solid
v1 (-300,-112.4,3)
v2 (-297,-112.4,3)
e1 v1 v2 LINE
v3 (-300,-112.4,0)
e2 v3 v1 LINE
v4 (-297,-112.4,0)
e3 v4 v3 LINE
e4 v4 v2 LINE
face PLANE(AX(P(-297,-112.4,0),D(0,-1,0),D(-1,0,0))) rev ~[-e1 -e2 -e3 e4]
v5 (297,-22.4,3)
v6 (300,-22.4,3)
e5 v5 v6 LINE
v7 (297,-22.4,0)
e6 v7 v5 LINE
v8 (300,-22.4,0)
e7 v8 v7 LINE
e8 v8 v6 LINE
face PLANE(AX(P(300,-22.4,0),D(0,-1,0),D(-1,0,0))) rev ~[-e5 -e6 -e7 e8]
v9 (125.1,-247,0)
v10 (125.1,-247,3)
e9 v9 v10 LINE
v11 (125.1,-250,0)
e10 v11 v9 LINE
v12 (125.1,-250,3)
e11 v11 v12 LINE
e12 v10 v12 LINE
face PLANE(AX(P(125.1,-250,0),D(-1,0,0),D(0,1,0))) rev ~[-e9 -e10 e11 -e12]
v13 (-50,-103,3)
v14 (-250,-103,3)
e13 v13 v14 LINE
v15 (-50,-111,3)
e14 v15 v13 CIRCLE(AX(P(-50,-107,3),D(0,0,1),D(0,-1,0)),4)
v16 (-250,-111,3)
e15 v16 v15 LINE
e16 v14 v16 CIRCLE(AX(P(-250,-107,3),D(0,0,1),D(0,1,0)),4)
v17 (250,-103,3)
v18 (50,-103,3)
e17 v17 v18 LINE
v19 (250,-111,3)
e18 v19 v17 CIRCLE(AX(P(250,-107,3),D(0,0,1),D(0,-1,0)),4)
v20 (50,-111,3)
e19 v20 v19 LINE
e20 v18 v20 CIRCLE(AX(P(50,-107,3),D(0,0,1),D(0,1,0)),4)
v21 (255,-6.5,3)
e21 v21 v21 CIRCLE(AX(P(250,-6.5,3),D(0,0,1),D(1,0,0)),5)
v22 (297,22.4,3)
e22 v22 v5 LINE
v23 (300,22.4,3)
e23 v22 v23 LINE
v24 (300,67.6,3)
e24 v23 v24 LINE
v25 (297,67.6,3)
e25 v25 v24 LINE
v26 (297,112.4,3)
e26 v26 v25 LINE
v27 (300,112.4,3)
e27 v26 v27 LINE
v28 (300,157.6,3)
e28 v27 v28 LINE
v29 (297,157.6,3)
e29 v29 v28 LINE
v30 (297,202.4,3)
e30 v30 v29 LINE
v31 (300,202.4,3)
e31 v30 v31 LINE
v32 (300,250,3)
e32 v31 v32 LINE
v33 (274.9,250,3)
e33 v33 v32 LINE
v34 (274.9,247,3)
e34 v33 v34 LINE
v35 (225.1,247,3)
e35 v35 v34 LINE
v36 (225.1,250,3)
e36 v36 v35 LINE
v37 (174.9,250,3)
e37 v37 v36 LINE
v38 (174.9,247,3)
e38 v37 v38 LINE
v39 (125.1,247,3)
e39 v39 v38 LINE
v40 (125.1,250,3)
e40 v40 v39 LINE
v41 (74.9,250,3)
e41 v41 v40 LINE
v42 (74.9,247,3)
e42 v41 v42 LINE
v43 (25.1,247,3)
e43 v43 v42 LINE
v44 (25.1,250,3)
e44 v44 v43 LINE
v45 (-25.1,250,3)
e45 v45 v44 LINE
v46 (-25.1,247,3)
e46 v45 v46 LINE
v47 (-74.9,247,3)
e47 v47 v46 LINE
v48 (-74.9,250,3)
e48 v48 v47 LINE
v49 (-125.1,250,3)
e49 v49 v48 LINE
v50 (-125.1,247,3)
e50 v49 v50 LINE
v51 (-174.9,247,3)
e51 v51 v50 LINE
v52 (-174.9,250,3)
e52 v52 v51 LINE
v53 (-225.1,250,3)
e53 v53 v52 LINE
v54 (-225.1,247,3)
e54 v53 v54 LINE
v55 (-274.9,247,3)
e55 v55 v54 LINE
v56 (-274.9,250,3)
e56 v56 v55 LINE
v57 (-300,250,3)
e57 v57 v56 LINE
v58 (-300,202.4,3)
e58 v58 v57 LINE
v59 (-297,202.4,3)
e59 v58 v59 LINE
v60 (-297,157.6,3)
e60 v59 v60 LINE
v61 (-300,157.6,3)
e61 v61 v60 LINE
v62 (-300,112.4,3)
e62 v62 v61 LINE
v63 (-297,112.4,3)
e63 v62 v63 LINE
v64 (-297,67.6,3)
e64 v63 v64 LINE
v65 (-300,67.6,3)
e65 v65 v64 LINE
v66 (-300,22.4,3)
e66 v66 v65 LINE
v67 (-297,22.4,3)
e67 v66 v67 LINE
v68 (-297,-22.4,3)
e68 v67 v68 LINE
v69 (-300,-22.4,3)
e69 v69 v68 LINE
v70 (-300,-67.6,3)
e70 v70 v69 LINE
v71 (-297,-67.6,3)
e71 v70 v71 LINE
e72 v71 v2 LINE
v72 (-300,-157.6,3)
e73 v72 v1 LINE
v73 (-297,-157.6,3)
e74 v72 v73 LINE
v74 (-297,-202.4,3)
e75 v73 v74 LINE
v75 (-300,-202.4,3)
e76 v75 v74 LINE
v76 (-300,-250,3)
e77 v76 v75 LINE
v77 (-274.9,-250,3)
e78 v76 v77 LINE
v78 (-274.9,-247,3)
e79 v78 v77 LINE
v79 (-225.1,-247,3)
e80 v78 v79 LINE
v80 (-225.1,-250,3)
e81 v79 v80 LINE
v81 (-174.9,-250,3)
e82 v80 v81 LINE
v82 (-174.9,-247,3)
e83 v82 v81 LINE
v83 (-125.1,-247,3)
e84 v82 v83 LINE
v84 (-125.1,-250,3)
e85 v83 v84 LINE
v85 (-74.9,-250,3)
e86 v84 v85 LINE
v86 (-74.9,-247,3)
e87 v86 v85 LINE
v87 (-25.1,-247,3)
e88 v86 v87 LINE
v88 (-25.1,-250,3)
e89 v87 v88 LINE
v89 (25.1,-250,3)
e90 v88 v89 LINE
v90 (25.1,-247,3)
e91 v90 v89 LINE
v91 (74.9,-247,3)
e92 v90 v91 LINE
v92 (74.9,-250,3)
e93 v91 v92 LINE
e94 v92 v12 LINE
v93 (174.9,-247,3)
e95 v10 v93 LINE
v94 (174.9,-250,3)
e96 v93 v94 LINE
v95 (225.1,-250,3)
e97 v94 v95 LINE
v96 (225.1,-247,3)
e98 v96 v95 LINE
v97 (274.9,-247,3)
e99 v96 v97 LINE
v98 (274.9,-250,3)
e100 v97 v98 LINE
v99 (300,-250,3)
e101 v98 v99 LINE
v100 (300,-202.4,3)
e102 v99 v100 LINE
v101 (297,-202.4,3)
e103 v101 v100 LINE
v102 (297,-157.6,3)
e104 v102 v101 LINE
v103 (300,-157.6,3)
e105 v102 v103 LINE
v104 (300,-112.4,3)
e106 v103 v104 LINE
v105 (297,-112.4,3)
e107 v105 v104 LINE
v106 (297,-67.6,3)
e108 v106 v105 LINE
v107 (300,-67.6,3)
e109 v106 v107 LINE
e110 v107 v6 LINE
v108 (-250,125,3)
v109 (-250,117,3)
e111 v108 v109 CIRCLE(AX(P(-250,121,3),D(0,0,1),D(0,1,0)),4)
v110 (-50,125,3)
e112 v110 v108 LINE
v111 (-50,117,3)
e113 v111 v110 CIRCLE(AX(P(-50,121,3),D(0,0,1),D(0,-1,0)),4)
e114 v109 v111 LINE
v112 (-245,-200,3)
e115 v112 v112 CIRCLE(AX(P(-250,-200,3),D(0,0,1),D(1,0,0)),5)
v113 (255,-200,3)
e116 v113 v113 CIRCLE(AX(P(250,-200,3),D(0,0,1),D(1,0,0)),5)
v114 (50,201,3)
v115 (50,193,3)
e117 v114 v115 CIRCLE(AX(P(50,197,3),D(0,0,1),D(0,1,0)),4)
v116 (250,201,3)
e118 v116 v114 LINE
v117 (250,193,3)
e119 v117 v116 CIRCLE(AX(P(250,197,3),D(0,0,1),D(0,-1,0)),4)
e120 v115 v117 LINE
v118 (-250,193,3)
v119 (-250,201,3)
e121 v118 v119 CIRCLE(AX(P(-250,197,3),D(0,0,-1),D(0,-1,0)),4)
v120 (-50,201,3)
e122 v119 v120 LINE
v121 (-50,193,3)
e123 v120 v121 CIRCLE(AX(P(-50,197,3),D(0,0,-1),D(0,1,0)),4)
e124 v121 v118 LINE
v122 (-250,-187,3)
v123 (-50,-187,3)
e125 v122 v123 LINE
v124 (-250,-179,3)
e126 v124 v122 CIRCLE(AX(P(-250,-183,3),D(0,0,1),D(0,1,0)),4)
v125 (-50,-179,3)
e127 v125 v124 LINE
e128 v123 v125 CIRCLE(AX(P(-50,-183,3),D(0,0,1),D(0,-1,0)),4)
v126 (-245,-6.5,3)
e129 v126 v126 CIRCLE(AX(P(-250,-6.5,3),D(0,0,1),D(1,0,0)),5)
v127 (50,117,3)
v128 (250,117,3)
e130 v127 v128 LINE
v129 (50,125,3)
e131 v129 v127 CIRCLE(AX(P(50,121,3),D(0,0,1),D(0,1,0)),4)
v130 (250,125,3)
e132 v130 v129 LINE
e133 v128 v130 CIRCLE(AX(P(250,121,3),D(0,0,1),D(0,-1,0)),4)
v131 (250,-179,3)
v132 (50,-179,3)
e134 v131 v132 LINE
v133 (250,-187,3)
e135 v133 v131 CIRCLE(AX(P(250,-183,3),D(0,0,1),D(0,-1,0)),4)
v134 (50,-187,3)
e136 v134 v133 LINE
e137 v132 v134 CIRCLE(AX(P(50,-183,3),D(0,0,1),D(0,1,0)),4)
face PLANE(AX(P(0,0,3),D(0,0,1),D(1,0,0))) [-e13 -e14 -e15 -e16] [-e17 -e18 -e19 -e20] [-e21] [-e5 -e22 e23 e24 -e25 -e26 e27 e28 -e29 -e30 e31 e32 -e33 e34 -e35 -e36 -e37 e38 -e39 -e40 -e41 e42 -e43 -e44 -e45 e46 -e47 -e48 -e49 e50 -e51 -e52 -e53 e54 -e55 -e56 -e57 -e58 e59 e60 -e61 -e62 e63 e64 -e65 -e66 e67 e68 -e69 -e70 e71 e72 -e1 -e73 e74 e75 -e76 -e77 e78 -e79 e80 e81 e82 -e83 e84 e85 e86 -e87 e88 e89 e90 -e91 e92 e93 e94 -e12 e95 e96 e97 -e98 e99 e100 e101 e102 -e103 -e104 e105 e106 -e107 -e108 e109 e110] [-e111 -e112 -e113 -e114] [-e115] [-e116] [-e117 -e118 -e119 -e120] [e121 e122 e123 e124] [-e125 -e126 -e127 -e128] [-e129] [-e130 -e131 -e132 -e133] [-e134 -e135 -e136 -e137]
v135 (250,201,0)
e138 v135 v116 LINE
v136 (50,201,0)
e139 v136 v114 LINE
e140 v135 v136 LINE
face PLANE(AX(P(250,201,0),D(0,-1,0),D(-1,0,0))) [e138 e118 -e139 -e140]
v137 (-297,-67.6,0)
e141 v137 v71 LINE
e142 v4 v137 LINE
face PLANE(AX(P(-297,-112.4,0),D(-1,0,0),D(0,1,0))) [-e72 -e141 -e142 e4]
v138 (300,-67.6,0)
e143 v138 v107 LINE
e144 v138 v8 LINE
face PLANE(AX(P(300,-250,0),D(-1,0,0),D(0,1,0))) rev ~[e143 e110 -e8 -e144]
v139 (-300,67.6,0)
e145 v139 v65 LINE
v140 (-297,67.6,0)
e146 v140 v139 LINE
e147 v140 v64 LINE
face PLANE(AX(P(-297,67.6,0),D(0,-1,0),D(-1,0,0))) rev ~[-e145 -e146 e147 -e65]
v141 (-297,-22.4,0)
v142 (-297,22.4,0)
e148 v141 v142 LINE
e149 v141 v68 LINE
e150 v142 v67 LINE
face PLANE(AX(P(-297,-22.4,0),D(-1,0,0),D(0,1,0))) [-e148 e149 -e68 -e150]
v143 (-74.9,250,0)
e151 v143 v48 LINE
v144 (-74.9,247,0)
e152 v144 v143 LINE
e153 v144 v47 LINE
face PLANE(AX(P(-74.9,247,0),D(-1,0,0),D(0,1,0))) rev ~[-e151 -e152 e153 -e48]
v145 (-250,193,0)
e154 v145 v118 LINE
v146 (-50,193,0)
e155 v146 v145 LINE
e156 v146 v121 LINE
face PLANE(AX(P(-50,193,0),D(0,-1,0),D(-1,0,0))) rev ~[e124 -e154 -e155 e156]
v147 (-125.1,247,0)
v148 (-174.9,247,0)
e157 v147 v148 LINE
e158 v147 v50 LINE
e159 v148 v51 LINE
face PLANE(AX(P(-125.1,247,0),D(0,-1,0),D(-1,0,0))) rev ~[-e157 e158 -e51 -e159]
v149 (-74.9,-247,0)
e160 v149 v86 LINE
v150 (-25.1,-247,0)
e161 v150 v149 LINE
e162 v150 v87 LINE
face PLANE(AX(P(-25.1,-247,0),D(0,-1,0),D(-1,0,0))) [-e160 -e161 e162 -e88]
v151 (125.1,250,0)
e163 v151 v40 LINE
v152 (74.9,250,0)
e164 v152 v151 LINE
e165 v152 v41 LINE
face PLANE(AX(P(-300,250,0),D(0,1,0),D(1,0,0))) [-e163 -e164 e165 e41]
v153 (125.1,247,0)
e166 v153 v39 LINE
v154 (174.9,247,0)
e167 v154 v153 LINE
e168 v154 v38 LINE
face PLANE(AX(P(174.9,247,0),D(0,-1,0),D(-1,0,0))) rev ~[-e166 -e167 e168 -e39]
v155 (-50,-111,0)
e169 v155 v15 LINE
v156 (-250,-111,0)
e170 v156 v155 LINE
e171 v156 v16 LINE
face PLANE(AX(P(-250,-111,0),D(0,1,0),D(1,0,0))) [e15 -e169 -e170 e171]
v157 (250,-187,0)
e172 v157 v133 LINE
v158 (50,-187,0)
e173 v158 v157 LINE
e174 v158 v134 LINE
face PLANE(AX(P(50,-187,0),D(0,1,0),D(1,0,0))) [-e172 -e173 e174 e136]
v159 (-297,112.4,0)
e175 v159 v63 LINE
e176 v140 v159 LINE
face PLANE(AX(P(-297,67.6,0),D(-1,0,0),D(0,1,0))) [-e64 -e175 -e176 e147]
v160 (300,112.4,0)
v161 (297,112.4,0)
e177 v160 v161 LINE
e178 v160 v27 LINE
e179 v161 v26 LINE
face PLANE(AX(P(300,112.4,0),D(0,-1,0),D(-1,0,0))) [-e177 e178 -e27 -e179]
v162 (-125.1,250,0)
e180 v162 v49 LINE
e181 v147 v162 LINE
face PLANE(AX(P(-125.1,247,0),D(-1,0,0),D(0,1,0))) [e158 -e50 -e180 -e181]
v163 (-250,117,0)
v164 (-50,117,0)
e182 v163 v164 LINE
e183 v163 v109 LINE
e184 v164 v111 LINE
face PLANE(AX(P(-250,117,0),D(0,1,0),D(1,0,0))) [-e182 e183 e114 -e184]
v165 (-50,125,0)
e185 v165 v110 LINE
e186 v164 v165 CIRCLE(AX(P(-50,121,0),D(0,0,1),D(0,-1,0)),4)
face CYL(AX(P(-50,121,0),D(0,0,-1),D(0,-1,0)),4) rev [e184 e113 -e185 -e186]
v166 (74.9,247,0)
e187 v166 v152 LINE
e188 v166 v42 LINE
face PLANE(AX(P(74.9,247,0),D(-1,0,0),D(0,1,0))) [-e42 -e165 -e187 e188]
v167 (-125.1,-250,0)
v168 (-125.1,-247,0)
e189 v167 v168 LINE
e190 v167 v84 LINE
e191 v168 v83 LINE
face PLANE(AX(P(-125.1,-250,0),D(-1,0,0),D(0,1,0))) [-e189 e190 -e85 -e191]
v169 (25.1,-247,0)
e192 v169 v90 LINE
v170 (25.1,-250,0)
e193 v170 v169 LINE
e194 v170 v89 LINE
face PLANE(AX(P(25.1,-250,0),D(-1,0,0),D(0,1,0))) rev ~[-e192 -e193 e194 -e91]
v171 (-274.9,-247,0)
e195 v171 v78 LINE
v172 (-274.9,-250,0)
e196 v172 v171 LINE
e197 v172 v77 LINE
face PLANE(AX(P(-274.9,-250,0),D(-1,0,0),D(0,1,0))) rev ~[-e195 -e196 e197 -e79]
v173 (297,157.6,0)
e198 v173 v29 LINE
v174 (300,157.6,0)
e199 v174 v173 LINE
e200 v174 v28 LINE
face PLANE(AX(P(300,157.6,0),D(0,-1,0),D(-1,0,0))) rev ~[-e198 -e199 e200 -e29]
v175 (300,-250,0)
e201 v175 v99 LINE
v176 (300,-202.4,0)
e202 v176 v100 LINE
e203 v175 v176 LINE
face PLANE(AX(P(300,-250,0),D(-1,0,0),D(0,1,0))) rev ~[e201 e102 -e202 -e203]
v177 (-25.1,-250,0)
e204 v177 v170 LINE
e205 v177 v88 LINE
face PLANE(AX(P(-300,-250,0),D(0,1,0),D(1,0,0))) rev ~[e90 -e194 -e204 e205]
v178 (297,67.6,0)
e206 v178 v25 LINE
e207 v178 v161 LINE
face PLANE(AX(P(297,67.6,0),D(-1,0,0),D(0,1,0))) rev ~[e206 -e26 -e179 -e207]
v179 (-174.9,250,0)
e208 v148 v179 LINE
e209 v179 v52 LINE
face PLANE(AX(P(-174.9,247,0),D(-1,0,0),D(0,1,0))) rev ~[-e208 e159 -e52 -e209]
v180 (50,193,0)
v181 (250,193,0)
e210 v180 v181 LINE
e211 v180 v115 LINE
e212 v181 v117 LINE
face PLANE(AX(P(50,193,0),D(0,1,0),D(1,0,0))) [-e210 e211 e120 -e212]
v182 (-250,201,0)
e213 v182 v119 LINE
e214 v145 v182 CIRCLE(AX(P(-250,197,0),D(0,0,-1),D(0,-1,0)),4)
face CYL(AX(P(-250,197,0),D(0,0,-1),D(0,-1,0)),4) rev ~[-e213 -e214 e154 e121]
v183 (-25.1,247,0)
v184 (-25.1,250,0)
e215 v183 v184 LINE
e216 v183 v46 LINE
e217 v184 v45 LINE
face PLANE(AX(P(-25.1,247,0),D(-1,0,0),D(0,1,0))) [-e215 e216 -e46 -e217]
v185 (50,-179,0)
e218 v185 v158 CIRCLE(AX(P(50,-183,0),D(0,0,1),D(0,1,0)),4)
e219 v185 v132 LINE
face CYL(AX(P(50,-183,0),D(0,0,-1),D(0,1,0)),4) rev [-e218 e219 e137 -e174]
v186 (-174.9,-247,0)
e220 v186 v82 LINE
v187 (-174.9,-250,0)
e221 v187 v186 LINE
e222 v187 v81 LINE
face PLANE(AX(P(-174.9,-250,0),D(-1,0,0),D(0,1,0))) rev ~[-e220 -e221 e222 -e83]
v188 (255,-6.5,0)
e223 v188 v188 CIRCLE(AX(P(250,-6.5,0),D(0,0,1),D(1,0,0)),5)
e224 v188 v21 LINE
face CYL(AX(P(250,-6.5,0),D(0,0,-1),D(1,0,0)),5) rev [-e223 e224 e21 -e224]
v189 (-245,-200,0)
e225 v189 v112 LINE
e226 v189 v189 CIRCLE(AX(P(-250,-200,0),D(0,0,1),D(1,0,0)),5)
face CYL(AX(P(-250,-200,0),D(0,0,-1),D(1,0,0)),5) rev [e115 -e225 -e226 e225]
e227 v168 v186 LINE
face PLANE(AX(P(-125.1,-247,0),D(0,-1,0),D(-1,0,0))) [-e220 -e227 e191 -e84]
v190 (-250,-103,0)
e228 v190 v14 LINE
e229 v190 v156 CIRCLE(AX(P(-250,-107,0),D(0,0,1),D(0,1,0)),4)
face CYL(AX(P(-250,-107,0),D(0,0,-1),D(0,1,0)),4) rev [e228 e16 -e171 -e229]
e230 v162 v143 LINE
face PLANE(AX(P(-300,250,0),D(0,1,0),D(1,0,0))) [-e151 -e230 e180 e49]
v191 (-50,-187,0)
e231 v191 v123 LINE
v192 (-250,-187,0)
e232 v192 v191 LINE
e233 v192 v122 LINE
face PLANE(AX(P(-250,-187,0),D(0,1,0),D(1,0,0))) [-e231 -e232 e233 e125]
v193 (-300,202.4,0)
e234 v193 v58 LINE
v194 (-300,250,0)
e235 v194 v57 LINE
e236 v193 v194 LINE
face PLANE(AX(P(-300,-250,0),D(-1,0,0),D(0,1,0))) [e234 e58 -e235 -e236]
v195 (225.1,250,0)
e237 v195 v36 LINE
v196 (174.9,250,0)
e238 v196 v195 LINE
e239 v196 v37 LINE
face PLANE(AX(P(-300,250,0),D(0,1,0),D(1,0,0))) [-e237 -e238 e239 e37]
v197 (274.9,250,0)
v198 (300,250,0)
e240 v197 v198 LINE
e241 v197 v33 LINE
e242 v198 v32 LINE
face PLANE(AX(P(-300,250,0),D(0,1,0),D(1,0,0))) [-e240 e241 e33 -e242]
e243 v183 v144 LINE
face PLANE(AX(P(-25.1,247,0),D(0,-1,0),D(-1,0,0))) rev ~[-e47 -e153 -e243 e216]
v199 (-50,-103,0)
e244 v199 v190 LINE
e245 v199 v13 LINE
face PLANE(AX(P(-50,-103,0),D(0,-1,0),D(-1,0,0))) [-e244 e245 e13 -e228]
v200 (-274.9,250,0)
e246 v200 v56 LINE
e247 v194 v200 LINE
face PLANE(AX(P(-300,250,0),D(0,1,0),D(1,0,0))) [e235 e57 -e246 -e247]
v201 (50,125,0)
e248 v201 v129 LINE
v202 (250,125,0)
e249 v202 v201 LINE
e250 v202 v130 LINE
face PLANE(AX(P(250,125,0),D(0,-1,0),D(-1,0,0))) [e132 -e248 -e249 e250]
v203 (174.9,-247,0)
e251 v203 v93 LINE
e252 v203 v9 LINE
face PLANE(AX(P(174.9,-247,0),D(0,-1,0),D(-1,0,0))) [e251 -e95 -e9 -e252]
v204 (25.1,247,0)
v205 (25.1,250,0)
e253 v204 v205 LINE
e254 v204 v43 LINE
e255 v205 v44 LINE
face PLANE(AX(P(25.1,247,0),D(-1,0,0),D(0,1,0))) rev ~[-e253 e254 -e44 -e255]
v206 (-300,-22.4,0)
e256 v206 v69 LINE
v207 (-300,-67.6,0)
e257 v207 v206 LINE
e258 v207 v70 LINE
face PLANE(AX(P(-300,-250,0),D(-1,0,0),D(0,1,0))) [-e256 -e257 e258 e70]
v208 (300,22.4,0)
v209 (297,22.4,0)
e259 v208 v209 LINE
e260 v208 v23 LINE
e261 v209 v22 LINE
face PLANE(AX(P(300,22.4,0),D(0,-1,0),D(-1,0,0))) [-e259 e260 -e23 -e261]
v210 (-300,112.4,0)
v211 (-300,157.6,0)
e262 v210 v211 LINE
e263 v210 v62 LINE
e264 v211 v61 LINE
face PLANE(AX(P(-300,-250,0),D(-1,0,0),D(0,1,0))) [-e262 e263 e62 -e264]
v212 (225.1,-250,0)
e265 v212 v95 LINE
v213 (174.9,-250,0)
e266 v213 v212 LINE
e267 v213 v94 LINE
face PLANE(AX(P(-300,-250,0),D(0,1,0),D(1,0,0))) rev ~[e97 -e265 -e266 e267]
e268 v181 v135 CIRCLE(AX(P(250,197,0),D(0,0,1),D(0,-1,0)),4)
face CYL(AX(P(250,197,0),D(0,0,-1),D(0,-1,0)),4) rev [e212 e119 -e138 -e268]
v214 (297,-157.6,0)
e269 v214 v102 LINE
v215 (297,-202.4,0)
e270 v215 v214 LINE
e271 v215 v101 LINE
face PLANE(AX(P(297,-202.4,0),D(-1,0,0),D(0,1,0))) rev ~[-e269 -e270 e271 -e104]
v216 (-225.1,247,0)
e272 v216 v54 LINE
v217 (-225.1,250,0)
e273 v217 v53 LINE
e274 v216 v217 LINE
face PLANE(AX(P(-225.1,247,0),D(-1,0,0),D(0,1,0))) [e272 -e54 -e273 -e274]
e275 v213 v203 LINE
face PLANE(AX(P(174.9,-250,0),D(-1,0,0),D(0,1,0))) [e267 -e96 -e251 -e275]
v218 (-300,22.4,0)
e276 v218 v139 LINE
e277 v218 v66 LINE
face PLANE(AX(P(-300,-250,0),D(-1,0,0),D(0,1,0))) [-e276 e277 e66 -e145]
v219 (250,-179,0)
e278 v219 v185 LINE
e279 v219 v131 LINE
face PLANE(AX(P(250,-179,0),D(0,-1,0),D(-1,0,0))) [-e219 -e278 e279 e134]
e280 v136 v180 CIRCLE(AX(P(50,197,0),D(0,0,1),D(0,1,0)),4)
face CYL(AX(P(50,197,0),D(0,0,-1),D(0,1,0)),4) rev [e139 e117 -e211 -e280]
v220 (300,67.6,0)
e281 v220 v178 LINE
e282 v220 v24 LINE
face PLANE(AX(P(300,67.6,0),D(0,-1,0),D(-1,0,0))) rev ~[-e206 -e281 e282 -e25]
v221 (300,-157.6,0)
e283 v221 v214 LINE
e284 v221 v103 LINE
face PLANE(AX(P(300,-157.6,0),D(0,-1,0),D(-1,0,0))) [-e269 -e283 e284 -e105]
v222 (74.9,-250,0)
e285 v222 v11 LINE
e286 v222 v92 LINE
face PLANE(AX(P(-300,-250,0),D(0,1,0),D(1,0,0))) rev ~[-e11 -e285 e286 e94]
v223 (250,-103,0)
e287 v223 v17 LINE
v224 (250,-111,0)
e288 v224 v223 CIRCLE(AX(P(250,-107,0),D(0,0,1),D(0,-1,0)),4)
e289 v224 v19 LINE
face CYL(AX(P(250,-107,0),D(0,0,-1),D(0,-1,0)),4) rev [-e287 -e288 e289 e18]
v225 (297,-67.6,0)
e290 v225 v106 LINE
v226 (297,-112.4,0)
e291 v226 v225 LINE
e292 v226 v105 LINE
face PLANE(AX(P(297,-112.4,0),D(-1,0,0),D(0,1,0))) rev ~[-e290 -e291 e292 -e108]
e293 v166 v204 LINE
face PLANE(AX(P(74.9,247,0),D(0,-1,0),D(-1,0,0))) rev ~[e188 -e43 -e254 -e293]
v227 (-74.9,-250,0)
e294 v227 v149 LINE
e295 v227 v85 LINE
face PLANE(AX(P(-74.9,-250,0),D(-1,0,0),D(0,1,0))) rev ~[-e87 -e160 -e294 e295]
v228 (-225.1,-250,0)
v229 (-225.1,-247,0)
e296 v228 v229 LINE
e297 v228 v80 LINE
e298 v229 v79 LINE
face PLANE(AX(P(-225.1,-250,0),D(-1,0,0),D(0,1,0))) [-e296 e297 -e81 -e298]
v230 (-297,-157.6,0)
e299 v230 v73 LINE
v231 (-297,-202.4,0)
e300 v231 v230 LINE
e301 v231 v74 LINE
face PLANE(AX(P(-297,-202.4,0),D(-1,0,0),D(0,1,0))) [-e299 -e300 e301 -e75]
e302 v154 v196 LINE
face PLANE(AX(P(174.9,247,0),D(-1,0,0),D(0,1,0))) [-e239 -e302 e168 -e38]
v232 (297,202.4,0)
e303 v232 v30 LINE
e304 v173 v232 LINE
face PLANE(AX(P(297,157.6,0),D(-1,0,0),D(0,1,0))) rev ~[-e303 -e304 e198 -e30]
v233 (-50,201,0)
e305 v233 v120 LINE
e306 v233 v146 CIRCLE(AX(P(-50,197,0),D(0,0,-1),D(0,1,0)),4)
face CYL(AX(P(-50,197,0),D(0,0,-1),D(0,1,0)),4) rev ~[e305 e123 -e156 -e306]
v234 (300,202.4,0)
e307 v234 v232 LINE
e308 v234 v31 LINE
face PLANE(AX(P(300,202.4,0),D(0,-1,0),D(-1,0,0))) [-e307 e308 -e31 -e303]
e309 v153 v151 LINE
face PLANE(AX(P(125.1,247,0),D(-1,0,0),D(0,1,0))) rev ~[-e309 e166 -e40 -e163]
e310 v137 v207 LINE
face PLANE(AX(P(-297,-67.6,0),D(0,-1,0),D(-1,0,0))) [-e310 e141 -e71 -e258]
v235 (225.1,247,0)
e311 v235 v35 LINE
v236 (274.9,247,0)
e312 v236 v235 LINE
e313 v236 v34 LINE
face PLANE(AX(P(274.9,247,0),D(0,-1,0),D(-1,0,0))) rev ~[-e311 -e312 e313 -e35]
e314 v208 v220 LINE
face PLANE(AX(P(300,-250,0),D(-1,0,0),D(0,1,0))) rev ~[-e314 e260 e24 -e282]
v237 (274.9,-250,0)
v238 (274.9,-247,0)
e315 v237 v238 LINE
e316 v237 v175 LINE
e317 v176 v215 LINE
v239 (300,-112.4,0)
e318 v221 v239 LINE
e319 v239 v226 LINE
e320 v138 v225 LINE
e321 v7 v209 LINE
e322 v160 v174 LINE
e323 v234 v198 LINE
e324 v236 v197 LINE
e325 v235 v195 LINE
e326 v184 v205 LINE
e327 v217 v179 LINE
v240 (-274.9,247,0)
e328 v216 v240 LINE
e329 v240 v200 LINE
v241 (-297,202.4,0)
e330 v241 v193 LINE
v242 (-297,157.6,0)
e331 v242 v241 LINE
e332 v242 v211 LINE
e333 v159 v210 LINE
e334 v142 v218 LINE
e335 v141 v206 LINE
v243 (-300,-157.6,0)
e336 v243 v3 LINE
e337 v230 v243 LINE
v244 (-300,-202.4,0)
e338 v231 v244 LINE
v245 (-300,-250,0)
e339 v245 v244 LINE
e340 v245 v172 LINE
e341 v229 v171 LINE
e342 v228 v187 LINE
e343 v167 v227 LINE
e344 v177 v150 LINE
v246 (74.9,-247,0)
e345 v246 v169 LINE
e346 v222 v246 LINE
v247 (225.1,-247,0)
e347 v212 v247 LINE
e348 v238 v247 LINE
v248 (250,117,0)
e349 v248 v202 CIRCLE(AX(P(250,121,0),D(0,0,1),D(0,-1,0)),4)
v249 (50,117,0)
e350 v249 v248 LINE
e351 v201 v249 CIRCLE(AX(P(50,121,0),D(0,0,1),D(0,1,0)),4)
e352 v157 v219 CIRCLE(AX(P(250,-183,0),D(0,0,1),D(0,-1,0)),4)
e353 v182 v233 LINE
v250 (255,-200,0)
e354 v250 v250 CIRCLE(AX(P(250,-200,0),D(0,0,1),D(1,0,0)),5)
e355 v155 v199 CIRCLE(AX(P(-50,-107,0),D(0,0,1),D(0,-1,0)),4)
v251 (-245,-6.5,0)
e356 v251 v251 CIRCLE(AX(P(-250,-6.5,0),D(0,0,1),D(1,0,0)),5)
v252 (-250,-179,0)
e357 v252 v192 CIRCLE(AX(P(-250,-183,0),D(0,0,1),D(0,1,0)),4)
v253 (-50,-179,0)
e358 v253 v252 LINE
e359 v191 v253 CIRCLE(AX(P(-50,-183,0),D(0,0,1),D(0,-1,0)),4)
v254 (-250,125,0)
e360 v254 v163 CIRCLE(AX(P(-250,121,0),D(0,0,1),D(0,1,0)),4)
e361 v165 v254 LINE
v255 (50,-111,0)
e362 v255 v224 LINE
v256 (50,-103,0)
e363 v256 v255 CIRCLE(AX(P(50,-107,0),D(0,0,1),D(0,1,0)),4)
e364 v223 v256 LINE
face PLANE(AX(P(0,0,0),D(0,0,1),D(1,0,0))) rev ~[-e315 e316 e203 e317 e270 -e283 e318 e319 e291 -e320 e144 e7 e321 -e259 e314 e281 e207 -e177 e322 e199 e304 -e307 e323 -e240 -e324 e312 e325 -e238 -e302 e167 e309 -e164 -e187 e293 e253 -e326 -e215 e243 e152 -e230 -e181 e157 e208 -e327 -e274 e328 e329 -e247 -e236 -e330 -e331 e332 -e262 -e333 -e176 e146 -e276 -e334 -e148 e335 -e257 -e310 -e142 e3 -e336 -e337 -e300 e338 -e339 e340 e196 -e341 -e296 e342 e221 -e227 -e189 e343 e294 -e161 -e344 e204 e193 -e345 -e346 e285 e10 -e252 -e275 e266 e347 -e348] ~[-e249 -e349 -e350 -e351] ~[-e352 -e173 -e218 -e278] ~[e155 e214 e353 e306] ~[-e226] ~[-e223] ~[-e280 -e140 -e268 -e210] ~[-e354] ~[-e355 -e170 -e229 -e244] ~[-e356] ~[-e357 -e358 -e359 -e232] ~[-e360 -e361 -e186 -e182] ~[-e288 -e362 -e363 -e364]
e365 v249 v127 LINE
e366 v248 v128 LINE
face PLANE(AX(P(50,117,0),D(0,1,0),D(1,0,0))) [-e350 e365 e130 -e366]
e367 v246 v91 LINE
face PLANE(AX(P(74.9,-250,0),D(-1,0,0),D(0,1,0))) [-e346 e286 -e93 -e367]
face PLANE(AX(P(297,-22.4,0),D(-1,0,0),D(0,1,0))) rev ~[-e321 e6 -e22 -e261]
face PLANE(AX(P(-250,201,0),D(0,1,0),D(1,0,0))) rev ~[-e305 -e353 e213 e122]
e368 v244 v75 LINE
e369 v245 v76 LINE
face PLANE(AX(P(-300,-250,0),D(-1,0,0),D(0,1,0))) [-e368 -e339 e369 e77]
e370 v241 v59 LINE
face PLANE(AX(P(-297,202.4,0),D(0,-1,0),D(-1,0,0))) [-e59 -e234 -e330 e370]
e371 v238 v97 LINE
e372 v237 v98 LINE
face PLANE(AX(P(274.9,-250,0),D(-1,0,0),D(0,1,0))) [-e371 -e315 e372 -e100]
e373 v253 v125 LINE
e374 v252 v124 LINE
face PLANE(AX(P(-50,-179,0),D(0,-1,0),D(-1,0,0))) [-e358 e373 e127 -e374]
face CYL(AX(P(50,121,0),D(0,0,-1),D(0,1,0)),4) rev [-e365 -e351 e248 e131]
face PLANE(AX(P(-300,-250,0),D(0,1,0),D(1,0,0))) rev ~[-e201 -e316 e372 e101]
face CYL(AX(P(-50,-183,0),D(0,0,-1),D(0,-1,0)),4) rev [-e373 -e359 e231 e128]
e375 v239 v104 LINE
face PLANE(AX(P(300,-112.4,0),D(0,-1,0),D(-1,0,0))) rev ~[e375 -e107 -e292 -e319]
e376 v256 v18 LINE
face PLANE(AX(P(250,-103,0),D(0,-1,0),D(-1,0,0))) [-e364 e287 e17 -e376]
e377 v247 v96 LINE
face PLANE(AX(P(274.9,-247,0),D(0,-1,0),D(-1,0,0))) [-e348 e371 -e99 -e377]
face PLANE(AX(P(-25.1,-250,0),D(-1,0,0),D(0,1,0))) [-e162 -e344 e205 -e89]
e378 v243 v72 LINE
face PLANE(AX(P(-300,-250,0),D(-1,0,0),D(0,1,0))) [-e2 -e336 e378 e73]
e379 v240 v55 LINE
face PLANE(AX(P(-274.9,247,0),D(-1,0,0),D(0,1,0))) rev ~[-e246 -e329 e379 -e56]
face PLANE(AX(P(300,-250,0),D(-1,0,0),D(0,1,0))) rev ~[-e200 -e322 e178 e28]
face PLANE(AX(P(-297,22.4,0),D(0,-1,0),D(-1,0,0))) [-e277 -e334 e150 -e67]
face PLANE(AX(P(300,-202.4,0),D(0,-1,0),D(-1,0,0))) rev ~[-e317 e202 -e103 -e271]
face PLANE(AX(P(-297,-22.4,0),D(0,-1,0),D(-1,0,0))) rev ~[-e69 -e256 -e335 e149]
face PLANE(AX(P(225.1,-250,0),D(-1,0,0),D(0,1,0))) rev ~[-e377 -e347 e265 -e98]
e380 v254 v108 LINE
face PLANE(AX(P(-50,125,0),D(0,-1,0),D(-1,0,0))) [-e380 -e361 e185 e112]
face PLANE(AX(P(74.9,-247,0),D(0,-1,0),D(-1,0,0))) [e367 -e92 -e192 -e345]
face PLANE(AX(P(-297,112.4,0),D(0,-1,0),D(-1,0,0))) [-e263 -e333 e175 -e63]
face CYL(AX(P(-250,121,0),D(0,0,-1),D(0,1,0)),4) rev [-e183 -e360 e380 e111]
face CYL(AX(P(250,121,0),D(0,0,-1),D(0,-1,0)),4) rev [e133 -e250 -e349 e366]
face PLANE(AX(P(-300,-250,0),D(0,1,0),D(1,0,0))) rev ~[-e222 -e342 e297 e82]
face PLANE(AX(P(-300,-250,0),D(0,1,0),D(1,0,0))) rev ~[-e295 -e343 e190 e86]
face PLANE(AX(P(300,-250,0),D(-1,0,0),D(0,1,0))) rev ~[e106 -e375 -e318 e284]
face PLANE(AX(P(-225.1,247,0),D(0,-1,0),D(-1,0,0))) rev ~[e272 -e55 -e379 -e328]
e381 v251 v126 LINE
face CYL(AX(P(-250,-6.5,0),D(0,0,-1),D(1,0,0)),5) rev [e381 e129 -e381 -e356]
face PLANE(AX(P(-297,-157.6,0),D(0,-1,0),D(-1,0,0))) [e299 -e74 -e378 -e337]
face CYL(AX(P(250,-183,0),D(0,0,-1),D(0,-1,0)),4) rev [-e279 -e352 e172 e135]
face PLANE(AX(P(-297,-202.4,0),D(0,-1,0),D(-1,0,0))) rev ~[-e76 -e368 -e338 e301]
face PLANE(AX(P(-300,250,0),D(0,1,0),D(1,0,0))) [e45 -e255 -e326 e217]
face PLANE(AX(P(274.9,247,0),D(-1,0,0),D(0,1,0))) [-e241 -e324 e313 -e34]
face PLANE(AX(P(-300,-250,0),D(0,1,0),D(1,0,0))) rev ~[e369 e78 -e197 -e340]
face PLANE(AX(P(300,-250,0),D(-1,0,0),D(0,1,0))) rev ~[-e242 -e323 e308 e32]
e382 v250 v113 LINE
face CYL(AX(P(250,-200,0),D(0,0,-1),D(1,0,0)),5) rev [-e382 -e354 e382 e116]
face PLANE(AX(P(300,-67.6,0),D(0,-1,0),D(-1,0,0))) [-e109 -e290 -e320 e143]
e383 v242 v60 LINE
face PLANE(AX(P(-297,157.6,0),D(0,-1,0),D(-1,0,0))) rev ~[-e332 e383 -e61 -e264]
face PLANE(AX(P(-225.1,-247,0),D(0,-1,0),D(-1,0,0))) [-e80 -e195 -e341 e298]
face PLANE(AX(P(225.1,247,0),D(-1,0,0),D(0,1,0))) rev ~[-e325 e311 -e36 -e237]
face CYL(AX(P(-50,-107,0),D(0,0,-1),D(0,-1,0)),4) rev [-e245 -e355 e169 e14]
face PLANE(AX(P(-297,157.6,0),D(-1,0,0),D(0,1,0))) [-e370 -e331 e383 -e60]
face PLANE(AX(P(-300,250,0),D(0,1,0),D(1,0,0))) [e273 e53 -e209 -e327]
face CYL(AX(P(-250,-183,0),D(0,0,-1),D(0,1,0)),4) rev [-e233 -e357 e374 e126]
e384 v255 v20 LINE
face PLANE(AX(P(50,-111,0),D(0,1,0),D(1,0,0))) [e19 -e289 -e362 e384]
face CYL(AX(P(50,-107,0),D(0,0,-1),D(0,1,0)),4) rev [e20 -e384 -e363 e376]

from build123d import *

# Parameters (mm, degrees)
CROQUIS1_W              = 600
CROQUIS1_H              = 500
CROQUIS1_R              = 5
SALIENTE_EXTRUIR1_DEPTH = 3
CROQUIS5_W              = 49.8
CROQUIS5_H              = 3
CROQUIS5_W_2            = 3
CROQUIS5_H_2            = 44.8
CORTAR_EXTRUIR2_DEPTH   = 4


with BuildPart() as part:
    # Croquis1 → Saliente-Extruir1 (new body)
    with BuildSketch(Plane.XY):
        Rectangle(CROQUIS1_W, CROQUIS1_H)
        with Locations((-250, -200)):
            Circle(CROQUIS1_R, mode=Mode.SUBTRACT)
        with Locations((-250, -6.5)):
            Circle(CROQUIS1_R, mode=Mode.SUBTRACT)
        with Locations((250, -200)):
            Circle(CROQUIS1_R, mode=Mode.SUBTRACT)
        with Locations((250, -6.5)):
            Circle(CROQUIS1_R, mode=Mode.SUBTRACT)
        with BuildLine():
            Line((-250, 201), (-50, 201))
            ThreePointArc((-50, 201), (-46, 197), (-50, 193))
            Line((-50, 193), (-250, 193))
            ThreePointArc((-250, 193), (-254, 197), (-250, 201))
        make_face(mode=Mode.SUBTRACT)
        with BuildLine():
            Line((-250, 117), (-50, 117))
            ThreePointArc((-50, 117), (-46, 121), (-50, 125))
            Line((-50, 125), (-250, 125))
            ThreePointArc((-250, 125), (-254, 121), (-250, 117))
        make_face(mode=Mode.SUBTRACT)
        with BuildLine():
            Line((-250, -111), (-50, -111))
            ThreePointArc((-50, -111), (-46, -107), (-50, -103))
            Line((-50, -103), (-250, -103))
            ThreePointArc((-250, -103), (-254, -107), (-250, -111))
        make_face(mode=Mode.SUBTRACT)
        with BuildLine():
            Line((-250, -187), (-50, -187))
            ThreePointArc((-50, -187), (-46, -183), (-50, -179))
            Line((-50, -179), (-250, -179))
            ThreePointArc((-250, -179), (-254, -183), (-250, -187))
        make_face(mode=Mode.SUBTRACT)
        with BuildLine():
            Line((250, -103), (50, -103))
            ThreePointArc((50, -103), (46, -107), (50, -111))
            Line((50, -111), (250, -111))
            ThreePointArc((250, -111), (254, -107), (250, -103))
        make_face(mode=Mode.SUBTRACT)
        with BuildLine():
            Line((250, -179), (50, -179))
            ThreePointArc((50, -179), (46, -183), (50, -187))
            Line((50, -187), (250, -187))
            ThreePointArc((250, -187), (254, -183), (250, -179))
        make_face(mode=Mode.SUBTRACT)
        with BuildLine():
            Line((250, 201), (50, 201))
            ThreePointArc((50, 201), (46, 197), (50, 193))
            Line((50, 193), (250, 193))
            ThreePointArc((250, 193), (254, 197), (250, 201))
        make_face(mode=Mode.SUBTRACT)
        with BuildLine():
            Line((250, 125), (50, 125))
            ThreePointArc((50, 125), (46, 121), (50, 117))
            Line((50, 117), (250, 117))
            ThreePointArc((250, 117), (254, 121), (250, 125))
        make_face(mode=Mode.SUBTRACT)
    extrude(amount=SALIENTE_EXTRUIR1_DEPTH)

    # Croquis5 → Cortar-Extruir2 (cut, through all)
    with BuildSketch(Plane(origin=(0, 0, 0), x_dir=(-1, 0, 0), z_dir=(0, 0, -1))):
        with Locations((150, 248.5)):
            Rectangle(CROQUIS5_W, CROQUIS5_H)
        with Locations((50, 248.5)):
            Rectangle(CROQUIS5_W, CROQUIS5_H)
        with Locations((250, 248.5)):
            Rectangle(CROQUIS5_W, CROQUIS5_H)
        with Locations((-50, 248.5)):
            Rectangle(CROQUIS5_W, CROQUIS5_H)
        with Locations((-150, 248.5)):
            Rectangle(CROQUIS5_W, CROQUIS5_H)
        with Locations((298.5, 180)):
            Rectangle(CROQUIS5_W_2, CROQUIS5_H_2)
        with Locations((-250, 248.5)):
            Rectangle(CROQUIS5_W, CROQUIS5_H)
        with Locations((298.5, 90)):
            Rectangle(CROQUIS5_W_2, CROQUIS5_H_2)
        with Locations((298.5, 0)):
            Rectangle(CROQUIS5_W_2, CROQUIS5_H_2)
        with Locations((298.5, -90)):
            Rectangle(CROQUIS5_W_2, CROQUIS5_H_2)
        with Locations((298.5, -180)):
            Rectangle(CROQUIS5_W_2, CROQUIS5_H_2)
        with Locations((-250, -248.5)):
            Rectangle(CROQUIS5_W, CROQUIS5_H)
        with Locations((-150, -248.5)):
            Rectangle(CROQUIS5_W, CROQUIS5_H)
        with Locations((-50, -248.5)):
            Rectangle(CROQUIS5_W, CROQUIS5_H)
        with Locations((50, -248.5)):
            Rectangle(CROQUIS5_W, CROQUIS5_H)
        with Locations((250, -248.5)):
            Rectangle(CROQUIS5_W, CROQUIS5_H)
        with Locations((150, -248.5)):
            Rectangle(CROQUIS5_W, CROQUIS5_H)
        with Locations((-298.5, -180)):
            Rectangle(CROQUIS5_W_2, CROQUIS5_H_2)
        with Locations((-298.5, -90)):
            Rectangle(CROQUIS5_W_2, CROQUIS5_H_2)
        with Locations((-298.5, 0)):
            Rectangle(CROQUIS5_W_2, CROQUIS5_H_2)
        with Locations((-298.5, 90)):
            Rectangle(CROQUIS5_W_2, CROQUIS5_H_2)
        with Locations((-298.5, 180)):
            Rectangle(CROQUIS5_W_2, CROQUIS5_H_2)
    extrude(amount=-CORTAR_EXTRUIR2_DEPTH, mode=Mode.SUBTRACT)


solid = part.part
